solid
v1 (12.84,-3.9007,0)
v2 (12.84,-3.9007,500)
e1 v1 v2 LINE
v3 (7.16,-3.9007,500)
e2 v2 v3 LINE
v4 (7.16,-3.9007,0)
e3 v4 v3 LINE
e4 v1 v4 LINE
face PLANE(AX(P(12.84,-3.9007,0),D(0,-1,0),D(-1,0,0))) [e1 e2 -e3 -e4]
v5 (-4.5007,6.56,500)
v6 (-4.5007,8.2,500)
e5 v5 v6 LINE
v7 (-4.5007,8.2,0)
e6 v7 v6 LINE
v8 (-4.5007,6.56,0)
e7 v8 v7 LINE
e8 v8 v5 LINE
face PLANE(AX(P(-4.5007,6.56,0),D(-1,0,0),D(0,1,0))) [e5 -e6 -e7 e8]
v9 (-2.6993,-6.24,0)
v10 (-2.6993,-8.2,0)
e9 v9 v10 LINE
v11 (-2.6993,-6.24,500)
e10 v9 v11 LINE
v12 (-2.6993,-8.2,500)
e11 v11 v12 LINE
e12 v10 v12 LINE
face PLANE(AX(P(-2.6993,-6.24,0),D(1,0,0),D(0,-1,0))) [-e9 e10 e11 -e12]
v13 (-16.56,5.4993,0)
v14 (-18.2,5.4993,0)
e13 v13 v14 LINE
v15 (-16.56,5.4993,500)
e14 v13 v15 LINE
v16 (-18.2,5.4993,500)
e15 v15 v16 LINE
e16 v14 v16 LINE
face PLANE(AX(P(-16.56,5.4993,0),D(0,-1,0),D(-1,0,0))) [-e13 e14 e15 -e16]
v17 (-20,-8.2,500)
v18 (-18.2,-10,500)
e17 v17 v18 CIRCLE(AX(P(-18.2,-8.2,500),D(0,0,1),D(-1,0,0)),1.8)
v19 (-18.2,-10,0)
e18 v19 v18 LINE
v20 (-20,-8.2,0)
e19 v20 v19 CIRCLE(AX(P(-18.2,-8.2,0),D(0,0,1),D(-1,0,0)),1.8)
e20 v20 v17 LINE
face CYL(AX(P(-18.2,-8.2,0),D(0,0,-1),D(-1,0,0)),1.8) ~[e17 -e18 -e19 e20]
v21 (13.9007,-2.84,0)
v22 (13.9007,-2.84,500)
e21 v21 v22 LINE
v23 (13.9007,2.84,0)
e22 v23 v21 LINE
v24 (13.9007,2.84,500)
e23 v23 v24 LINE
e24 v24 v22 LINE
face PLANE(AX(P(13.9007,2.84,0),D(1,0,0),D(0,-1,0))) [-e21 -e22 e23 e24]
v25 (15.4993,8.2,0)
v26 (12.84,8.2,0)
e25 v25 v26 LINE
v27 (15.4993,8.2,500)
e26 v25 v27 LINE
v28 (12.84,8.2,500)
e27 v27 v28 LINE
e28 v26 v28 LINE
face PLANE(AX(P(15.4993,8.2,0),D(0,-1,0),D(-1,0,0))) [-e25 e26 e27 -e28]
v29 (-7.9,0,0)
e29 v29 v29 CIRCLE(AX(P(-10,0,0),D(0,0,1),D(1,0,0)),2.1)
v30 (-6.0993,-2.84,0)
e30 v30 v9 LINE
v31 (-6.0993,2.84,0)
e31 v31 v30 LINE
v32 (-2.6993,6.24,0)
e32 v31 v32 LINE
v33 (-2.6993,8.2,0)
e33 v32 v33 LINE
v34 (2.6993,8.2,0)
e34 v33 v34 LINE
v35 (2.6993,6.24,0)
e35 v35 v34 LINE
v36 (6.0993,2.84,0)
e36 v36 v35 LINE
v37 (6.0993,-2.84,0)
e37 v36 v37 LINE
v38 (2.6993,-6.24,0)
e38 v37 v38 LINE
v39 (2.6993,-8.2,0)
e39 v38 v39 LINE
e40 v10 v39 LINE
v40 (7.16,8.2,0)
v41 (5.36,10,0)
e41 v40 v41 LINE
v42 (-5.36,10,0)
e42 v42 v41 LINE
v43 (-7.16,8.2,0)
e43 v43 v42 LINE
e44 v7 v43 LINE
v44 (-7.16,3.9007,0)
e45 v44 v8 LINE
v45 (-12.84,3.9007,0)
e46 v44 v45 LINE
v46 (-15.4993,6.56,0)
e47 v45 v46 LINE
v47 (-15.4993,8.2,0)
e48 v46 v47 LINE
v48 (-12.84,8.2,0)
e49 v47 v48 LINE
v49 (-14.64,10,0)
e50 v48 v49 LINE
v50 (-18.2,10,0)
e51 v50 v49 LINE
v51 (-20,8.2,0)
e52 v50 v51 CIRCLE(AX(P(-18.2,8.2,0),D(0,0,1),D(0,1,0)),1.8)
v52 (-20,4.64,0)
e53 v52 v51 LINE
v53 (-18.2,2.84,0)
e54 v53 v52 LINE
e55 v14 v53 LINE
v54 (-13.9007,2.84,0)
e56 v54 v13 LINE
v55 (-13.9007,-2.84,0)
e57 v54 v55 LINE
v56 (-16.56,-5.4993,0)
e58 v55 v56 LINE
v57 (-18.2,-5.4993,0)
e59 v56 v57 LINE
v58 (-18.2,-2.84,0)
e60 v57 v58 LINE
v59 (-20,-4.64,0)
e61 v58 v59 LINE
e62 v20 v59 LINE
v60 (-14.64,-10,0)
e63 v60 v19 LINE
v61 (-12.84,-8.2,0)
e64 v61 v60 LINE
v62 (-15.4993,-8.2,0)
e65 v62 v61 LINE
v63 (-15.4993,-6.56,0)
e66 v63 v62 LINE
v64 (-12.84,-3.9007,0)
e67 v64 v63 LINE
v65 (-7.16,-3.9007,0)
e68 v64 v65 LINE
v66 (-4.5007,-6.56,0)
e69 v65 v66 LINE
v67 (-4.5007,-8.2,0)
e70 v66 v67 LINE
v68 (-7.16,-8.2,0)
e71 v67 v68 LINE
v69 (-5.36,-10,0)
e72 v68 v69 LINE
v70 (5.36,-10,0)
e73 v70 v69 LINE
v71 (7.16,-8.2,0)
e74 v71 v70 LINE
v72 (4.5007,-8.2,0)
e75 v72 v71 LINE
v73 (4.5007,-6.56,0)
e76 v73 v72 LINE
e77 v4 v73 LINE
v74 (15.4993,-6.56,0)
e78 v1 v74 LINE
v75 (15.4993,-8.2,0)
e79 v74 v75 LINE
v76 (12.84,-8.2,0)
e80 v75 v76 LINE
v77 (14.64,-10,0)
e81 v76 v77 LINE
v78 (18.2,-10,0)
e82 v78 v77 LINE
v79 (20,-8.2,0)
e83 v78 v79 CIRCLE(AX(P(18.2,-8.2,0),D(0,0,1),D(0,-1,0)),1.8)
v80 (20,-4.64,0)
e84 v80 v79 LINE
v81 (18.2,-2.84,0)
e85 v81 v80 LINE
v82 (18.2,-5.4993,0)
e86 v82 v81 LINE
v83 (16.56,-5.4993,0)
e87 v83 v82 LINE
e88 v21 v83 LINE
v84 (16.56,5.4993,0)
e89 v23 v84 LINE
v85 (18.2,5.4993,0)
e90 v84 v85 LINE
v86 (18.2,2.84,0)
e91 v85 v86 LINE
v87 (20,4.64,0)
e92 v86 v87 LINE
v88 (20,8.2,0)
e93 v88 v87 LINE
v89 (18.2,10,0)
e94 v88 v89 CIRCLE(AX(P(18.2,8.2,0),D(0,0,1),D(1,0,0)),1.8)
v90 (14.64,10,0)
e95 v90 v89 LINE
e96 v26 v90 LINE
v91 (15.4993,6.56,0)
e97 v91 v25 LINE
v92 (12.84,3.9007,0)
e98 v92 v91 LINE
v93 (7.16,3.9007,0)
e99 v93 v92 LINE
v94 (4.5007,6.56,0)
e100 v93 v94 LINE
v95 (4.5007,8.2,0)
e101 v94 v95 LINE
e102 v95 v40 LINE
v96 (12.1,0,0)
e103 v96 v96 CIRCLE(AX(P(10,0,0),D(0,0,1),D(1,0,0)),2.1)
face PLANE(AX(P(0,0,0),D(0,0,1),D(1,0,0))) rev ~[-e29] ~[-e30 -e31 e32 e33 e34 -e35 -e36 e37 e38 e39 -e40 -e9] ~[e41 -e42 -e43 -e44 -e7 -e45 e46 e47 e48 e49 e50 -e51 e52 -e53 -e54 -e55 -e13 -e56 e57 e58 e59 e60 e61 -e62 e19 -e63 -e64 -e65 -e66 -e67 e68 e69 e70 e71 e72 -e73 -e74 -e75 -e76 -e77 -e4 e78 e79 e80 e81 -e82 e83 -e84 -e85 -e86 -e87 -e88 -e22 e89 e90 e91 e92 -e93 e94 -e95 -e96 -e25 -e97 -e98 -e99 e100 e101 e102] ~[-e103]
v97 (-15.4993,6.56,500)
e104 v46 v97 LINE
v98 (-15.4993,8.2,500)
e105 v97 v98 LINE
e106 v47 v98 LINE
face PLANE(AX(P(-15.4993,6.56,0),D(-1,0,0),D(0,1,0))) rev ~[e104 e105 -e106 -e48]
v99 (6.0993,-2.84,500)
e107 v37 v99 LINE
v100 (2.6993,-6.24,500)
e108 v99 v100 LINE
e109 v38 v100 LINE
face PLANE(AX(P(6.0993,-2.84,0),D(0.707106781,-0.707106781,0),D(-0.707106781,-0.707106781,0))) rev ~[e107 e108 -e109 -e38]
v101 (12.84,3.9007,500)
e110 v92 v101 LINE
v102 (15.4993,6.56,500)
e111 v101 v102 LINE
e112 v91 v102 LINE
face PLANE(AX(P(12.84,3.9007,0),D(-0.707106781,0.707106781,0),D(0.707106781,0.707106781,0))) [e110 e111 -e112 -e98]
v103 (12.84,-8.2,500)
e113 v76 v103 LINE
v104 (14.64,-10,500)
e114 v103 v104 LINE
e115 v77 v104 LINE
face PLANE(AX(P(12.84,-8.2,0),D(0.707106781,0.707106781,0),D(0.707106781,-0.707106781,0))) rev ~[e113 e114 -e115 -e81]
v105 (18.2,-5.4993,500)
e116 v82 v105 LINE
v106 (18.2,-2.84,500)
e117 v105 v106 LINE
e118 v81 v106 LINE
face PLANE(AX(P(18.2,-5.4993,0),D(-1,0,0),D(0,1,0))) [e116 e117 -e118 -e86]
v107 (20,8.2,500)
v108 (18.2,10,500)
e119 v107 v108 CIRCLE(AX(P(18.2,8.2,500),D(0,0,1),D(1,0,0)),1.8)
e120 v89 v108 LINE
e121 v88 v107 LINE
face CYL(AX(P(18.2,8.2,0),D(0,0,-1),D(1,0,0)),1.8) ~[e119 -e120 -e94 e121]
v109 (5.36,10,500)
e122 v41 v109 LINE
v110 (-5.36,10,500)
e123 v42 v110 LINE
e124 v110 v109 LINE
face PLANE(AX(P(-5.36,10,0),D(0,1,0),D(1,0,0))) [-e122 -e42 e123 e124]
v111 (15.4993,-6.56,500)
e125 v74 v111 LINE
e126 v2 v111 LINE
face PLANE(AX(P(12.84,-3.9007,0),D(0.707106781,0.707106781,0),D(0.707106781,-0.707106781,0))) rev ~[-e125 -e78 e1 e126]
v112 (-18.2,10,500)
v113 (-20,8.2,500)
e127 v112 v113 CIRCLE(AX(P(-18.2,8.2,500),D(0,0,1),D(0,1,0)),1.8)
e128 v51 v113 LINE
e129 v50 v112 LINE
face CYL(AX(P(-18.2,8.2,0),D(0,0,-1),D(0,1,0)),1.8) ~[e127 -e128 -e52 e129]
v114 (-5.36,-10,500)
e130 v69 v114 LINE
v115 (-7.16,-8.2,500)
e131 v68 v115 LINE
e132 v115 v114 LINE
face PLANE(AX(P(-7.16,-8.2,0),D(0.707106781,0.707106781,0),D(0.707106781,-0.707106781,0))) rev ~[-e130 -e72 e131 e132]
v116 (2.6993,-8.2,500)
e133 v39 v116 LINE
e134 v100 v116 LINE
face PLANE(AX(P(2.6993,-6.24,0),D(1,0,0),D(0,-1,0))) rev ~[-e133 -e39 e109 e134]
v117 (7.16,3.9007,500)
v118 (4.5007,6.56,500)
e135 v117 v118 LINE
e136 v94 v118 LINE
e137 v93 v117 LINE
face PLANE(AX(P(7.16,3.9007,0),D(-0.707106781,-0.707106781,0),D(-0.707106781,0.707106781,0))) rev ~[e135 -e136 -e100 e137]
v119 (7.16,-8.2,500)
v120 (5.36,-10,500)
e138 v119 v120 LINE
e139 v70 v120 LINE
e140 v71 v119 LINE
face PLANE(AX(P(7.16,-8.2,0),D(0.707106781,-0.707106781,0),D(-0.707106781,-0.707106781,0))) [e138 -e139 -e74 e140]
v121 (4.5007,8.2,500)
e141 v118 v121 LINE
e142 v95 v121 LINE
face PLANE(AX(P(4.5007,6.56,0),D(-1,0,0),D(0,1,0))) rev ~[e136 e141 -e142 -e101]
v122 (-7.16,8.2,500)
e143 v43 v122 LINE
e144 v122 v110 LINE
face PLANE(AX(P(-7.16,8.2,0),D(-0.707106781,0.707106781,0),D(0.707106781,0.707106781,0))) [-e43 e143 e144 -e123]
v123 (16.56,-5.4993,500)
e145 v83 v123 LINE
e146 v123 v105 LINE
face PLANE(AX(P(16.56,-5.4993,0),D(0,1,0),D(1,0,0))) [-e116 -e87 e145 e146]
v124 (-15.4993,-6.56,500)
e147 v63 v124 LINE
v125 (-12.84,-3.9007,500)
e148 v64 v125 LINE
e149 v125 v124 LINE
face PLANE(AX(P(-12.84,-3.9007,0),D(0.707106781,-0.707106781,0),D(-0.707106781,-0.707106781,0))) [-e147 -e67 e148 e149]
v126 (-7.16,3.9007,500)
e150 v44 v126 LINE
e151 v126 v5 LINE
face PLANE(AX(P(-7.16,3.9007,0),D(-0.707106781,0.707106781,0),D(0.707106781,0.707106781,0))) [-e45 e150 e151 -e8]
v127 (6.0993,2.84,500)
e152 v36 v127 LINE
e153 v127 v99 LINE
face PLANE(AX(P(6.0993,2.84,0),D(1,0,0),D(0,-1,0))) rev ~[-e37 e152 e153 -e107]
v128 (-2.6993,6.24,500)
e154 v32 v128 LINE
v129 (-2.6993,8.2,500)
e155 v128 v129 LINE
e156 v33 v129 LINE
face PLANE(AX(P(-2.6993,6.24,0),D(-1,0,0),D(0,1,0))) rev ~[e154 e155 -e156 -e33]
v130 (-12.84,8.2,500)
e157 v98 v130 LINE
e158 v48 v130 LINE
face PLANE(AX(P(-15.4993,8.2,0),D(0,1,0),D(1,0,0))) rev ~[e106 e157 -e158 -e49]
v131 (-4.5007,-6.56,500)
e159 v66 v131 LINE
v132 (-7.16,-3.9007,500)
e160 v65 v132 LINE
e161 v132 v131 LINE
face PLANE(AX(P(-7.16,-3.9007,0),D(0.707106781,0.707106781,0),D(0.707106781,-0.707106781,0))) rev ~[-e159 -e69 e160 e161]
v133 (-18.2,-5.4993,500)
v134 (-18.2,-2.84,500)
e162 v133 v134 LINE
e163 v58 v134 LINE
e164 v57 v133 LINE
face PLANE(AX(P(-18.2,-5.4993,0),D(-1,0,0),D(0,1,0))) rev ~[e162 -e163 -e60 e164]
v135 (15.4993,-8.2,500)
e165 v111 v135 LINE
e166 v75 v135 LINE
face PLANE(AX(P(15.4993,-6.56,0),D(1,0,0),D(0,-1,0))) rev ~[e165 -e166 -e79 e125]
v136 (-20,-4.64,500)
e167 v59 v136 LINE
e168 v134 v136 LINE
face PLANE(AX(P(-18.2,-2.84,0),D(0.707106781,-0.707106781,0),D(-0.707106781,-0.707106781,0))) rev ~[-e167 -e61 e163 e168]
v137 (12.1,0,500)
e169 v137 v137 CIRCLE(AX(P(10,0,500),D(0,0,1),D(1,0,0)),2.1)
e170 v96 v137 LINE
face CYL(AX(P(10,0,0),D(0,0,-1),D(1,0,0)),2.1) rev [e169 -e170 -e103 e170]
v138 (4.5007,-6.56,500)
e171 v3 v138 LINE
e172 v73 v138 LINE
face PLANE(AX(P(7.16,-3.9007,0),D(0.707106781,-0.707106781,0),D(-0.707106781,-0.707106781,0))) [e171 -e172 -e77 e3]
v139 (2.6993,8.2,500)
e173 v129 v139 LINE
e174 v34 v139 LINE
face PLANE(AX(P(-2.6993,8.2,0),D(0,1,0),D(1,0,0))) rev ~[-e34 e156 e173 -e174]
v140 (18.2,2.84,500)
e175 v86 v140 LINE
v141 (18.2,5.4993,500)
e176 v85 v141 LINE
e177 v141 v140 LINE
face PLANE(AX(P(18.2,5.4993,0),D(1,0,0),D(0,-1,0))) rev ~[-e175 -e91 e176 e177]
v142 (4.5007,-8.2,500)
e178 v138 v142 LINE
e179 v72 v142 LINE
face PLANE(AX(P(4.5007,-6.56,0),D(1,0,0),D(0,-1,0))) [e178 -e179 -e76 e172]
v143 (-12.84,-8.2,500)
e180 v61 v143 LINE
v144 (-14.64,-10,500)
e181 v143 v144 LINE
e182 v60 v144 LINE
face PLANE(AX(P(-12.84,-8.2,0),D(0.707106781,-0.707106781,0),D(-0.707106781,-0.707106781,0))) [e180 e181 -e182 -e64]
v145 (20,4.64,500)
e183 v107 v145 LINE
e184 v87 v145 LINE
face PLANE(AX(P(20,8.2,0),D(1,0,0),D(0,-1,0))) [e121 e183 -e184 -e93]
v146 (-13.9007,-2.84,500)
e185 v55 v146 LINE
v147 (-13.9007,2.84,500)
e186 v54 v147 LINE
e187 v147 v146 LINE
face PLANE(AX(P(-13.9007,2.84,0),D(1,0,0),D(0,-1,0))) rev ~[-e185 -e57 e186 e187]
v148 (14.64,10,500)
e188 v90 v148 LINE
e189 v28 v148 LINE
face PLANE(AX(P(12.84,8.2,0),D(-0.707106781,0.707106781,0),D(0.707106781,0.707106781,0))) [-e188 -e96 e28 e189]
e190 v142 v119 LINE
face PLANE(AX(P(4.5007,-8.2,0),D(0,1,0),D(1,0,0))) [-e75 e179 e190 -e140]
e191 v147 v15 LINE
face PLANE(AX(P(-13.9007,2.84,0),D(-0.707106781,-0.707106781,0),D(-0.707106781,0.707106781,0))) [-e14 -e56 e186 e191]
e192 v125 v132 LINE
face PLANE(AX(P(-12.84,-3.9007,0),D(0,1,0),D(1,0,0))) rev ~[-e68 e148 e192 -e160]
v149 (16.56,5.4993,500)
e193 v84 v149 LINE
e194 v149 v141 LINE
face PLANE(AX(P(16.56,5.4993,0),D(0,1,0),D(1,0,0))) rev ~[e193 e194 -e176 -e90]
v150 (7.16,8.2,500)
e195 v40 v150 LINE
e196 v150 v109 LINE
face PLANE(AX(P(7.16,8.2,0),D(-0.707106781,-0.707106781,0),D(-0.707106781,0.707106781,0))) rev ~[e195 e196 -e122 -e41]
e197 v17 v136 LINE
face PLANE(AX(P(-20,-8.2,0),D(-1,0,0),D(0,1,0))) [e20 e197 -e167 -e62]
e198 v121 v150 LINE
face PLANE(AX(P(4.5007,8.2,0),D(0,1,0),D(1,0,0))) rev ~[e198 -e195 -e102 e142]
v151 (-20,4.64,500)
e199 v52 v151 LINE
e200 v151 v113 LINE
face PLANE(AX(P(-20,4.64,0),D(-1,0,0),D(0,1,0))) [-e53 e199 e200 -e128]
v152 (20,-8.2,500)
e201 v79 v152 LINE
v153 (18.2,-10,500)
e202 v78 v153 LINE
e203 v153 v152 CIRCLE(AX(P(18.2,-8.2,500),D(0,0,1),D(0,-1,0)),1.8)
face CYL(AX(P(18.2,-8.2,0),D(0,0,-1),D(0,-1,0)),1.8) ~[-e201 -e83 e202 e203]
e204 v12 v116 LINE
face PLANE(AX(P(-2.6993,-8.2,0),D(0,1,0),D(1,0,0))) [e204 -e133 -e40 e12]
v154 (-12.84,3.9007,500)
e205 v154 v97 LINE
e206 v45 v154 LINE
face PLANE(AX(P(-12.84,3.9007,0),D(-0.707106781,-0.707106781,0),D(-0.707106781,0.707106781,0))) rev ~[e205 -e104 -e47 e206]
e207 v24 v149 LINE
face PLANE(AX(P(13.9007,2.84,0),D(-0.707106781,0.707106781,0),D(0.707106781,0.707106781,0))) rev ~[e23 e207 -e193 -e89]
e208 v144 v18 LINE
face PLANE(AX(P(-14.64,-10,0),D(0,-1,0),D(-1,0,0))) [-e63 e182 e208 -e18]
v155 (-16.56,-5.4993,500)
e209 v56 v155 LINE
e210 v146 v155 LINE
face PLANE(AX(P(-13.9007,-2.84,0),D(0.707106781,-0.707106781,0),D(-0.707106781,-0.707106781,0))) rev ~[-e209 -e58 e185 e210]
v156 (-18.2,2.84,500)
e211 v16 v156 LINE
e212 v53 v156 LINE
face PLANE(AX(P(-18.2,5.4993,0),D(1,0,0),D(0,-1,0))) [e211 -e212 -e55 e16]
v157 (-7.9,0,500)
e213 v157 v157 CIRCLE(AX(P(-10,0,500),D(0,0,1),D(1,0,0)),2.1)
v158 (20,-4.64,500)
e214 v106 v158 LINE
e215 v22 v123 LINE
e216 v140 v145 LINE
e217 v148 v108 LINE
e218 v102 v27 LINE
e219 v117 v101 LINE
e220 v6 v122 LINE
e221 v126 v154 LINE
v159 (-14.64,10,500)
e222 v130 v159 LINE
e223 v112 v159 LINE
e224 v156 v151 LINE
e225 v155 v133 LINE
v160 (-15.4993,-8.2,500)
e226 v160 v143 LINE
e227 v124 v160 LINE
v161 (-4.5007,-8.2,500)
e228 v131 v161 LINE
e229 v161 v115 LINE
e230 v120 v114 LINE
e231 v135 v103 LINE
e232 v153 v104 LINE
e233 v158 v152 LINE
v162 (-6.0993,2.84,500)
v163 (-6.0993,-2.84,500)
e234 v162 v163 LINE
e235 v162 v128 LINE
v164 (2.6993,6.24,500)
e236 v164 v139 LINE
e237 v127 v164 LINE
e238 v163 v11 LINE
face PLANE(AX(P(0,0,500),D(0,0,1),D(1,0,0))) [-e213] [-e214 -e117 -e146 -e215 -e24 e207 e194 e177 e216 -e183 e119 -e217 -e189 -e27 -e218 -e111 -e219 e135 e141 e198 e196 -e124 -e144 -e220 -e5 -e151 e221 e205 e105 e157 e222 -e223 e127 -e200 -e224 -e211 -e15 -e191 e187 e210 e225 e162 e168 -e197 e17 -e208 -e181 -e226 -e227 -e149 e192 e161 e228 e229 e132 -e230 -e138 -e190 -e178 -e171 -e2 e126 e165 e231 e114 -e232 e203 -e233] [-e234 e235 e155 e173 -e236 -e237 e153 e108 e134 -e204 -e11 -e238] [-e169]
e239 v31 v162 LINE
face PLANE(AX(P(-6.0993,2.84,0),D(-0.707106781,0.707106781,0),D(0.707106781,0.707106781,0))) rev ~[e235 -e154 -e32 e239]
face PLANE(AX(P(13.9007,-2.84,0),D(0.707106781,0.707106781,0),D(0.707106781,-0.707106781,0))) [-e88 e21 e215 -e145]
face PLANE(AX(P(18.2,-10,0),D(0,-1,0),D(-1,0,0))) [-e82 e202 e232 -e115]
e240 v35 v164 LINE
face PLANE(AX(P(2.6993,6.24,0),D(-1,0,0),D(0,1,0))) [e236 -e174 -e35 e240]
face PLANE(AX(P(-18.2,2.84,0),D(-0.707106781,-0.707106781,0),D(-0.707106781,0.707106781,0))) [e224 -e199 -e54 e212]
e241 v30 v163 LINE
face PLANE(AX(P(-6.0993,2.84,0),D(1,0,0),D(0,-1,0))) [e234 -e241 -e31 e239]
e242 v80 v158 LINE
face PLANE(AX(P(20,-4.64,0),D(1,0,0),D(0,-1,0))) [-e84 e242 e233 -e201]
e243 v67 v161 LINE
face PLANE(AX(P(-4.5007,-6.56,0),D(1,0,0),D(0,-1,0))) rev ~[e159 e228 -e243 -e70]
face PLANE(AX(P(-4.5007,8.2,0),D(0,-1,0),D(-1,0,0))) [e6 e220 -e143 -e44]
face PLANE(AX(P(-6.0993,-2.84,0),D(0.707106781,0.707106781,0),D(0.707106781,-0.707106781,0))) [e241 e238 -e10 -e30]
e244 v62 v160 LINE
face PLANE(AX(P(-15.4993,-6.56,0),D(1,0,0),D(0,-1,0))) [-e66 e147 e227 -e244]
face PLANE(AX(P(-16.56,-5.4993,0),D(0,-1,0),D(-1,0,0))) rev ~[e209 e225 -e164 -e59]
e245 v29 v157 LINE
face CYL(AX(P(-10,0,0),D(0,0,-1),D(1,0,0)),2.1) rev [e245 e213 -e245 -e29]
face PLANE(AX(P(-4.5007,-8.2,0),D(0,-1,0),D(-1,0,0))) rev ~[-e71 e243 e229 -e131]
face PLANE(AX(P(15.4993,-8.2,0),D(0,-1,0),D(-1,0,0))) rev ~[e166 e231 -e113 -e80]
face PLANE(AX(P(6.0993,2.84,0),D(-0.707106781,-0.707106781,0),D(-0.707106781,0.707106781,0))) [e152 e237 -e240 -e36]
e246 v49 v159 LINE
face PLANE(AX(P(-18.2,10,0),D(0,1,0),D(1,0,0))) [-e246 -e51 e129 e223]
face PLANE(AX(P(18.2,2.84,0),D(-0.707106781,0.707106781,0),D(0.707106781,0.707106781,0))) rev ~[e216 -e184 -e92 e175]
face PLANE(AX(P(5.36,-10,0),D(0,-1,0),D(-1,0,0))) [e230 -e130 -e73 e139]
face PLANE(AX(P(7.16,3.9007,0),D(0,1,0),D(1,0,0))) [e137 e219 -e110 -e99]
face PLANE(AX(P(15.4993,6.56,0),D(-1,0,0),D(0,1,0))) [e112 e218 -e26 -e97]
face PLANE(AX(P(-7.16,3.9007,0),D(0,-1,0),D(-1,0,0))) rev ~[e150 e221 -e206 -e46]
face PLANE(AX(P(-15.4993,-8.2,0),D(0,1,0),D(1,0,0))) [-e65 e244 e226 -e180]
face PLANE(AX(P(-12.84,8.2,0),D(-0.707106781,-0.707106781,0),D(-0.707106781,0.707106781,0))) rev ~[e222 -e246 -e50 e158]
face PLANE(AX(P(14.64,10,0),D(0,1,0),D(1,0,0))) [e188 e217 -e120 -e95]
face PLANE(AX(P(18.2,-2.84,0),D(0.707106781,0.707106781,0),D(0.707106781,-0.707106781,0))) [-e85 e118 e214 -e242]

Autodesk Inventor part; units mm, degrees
ref_plane "YZ Plane" through (0, 0, 0) normal (1, 0, 0) x (0, 1, 0)
ref_plane "Start Plane" through (0, 0, 0) normal (0, 0, 1) x (1, 0, 0)
ref_plane "End Plane" through (0, 0, 10) normal (0, 0, 1) x (1, 0, 0)
sketch "Sketch3" plane through (0, 0, 0) normal (0, 0, 1) x (1, 0, 0)
  line L0 (0, 0) -> (0, 10) construction
  line L1 (-10, 10) -> (-10, 0) construction
  line L2 (0, 0) -> (-10, 0) construction
  circle A0 centre (-10, 0) radius 2.1
  line L3 (-13.9007, 3.9007) -> (-6.0993, 3.9007) construction
  line L4 (-6.0993, 3.9007) -> (-6.0993, -3.9007) construction
  line L5 (-6.0993, -3.9007) -> (-13.9007, -3.9007) construction
  line L6 (-13.9007, -3.9007) -> (-13.9007, 3.9007) construction
  line L7 (-13.9007, 3.9007) -> (-6.0993, -3.9007) construction
  line L8 (-6.0993, 3.9007) -> (-13.9007, -3.9007) construction
  line L9 (-13.9007, -2.84) -> (-12.84, -3.9007) construction
  line L10 (-13.9007, -2.84) -> (-12.4007, -2.84) construction
  line L11 (-12.84, -3.9007) -> (-15.4993, -6.56)
  line L12 (-15.4993, -6.56) -> (-15.4993, -8.2)
  line L13 (-15.4993, -8.2) -> (-12.84, -8.2)
  line L14 (-12.84, -8.2) -> (-14.64, -10)
  line L15 (-7.16, -3.9007) -> (-4.5007, -6.56)
  line L16 (-4.5007, -6.56) -> (-4.5007, -8.2)
  line L17 (-4.5007, -8.2) -> (-7.16, -8.2)
  line L18 (-7.16, -8.2) -> (-5.36, -10)
  line L19 (-12.84, -3.9007) -> (-7.16, -3.9007)
  line L20 (-12.84, 3.9007) -> (-13.9007, 2.84) construction
  line L21 (-12.84, 3.9007) -> (-12.84, 2.4007) construction
  line L22 (-13.9007, 2.84) -> (-16.56, 5.4993)
  line L23 (-16.56, 5.4993) -> (-18.2, 5.4993)
  line L24 (-18.2, 5.4993) -> (-18.2, 2.84)
  line L25 (-18.2, 2.84) -> (-20, 4.64)
  line L26 (-18.2, -2.84) -> (-20, -4.64)
  line L27 (-18.2, -5.4993) -> (-18.2, -2.84)
  line L28 (-16.56, -5.4993) -> (-18.2, -5.4993)
  line L29 (-13.9007, -2.84) -> (-16.56, -5.4993)
  line L30 (-13.9007, 2.84) -> (-13.9007, -2.84)
  line L31 (-6.0993, 2.84) -> (-7.16, 3.9007) construction
  line L32 (-6.0993, 2.84) -> (-7.5993, 2.84) construction
  line L33 (-7.16, 3.9007) -> (-4.5007, 6.56)
  line L34 (-4.5007, 6.56) -> (-4.5007, 8.2)
  line L35 (-4.5007, 8.2) -> (-7.16, 8.2)
  line L36 (-7.16, 8.2) -> (-5.36, 10)
  line L37 (-12.84, 8.2) -> (-14.64, 10)
  line L38 (-15.4993, 8.2) -> (-12.84, 8.2)
  line L39 (-15.4993, 6.56) -> (-15.4993, 8.2)
  line L40 (-12.84, 3.9007) -> (-15.4993, 6.56)
  line L41 (-7.16, 3.9007) -> (-12.84, 3.9007)
  line L42 (-6.0993, 2.84) -> (-2.6993, 6.24)
  line L43 (-2.6993, 6.24) -> (-2.6993, 8.2)
  line L44 (-4.5007, 8.2) -> (0, 8.2) construction
  line L45 (-6.0993, -2.84) -> (-2.6993, -6.24)
  line L46 (-2.6993, -6.24) -> (-2.6993, -8.2)
  line L47 (10, 10) -> (10, 0) construction
  circle A1 centre (10, 0) radius 2.1
  line L48 (13.9007, 3.9007) -> (6.0993, -3.9007) construction
  line L49 (13.9007, -2.84) -> (12.84, -3.9007) construction
  line L50 (12.84, -3.9007) -> (15.4993, -6.56)
  line L51 (15.4993, -6.56) -> (15.4993, -8.2)
  line L52 (15.4993, -8.2) -> (12.84, -8.2)
  line L53 (12.84, -8.2) -> (14.64, -10)
  line L54 (7.16, -8.2) -> (5.36, -10)
  line L55 (4.5007, -8.2) -> (7.16, -8.2)
  line L56 (4.5007, -6.56) -> (4.5007, -8.2)
  line L57 (7.16, -3.9007) -> (4.5007, -6.56)
  line L58 (12.84, -3.9007) -> (7.16, -3.9007)
  line L59 (13.9007, 2.84) -> (13.9007, -2.84)
  line L60 (13.9007, 2.84) -> (16.56, 5.4993)
  line L61 (16.56, 5.4993) -> (18.2, 5.4993)
  line L62 (18.2, 5.4993) -> (18.2, 2.84)
  line L63 (18.2, 2.84) -> (20, 4.64)
  line L64 (18.2, -5.4993) -> (18.2, -2.84)
  line L65 (18.2, -2.84) -> (20, -4.64)
  line L66 (16.56, -5.4993) -> (18.2, -5.4993)
  line L67 (13.9007, -2.84) -> (16.56, -5.4993)
  line L68 (7.16, 3.9007) -> (12.84, 3.9007)
  line L69 (7.16, 3.9007) -> (4.5007, 6.56)
  line L70 (4.5007, 6.56) -> (4.5007, 8.2)
  line L71 (4.5007, 8.2) -> (7.16, 8.2)
  line L72 (7.16, 8.2) -> (5.36, 10)
  line L73 (15.4993, 8.2) -> (12.84, 8.2)
  line L74 (12.84, 8.2) -> (14.64, 10)
  line L75 (15.4993, 6.56) -> (15.4993, 8.2)
  line L76 (12.84, 3.9007) -> (15.4993, 6.56)
  line L77 (6.0993, 2.84) -> (2.6993, 6.24)
  line L78 (2.6993, 6.24) -> (2.6993, 8.2)
  line L79 (6.0993, -2.84) -> (2.6993, -6.24)
  line L80 (2.6993, -6.24) -> (2.6993, -8.2)
  line L81 (-14.64, -10) -> (-18.2, -10)
  line L82 (-20, -8.2) -> (-20, -4.64)
  line L83 (-20, 4.64) -> (-20, 8.2)
  line L84 (-18.2, 10) -> (-14.64, 10)
  line L85 (18.2, -10) -> (14.64, -10)
  line L86 (5.36, -10) -> (-5.36, -10)
  line L87 (-5.36, 10) -> (5.36, 10)
  line L88 (14.64, 10) -> (18.2, 10)
  line L89 (20, 8.2) -> (20, 4.64)
  line L90 (20, -4.64) -> (20, -8.2)
  line L91 (-2.6993, -8.2) -> (2.6993, -8.2)
  line L92 (-2.6993, 8.2) -> (2.6993, 8.2)
  line L93 (-6.0993, 2.84) -> (-6.0993, -2.84)
  line L94 (6.0993, 2.84) -> (6.0993, -2.84)
  arc A2 (-20, -8.2) -> (-18.2, -10) centre (-18.2, -8.2) ccw
  arc A3 (-18.2, 10) -> (-20, 8.2) centre (-18.2, 8.2) ccw
  arc A4 (18.2, -10) -> (20, -8.2) centre (18.2, -8.2) ccw
  arc A5 (20, 8.2) -> (18.2, 10) centre (18.2, 8.2) ccw
  point P0 (-13.9007, -3.9007)
  point P1 (-13.9007, 3.9007)
  point P2 (-13.9007, 3.9007)
  point P3 (-6.0993, 3.9007)
  point P4 (6.0993, 3.9007)
  point P5 (13.9007, -3.9007)
  point P6 (12.4007, -2.84)
  point P7 (13.9007, -3.9007)
  point P8 (13.9007, 3.9007)
  point P9 (12.84, 3.9007)
  point P10 (12.84, 2.4007)
  point P11 (13.9007, 3.9007)
  point P12 (6.0993, 3.9007)
  point P13 (7.5993, 2.84)
  point P14 (-20, 10)
  point P15 (20, -10)
  point P16 (20, 10)
  point P17 (-20, -10)
  dimension "d26" = 10
  dimension "d27" = 10
  dimension "d28" = 4.2
  dimension "d29" = 1.5
  dimension "d30" = 45
  dimension "d32" = 45
  dimension "d33" = 1.64
  dimension "d34" = 1.8
  dimension "d35" = 10
  dimension "d36" = 5.68
  dimension "d39" = 180
  dimension "d41" = 1.96
  dimension "d42" = 5.68
  dimension "d45" = 1.8
extrude "Body" add sketch "Sketch3" along normal blind 500
sketch "Sketch4" plane through (0, 0, 0) normal (0, 0, 1) x (1, 0, 0)
  line L0 (0, 0) -> (10, 0)
ref_plane "Work Plane3" through (0, 0, 0) normal (0, -1, 0) x (1, 0, 0)
sketch "Sketch5" plane through (0, 0, 0) normal (0, -1, 0) x (1, 0, 0)
  line L0 (-2, 0) -> (12, 0)
  line L1 (-2, 10) -> (12, 10)
  dimension "d51" = 10
equation "\"d42\" = d36"
equation "\"G_OFFSET_START\" = 0"
equation "\"G_OFFSET_END\" = 0"
equation "\"G_L\" = d51"
properties part number "vslot 20 x 40" material "Aluminum 6061"
